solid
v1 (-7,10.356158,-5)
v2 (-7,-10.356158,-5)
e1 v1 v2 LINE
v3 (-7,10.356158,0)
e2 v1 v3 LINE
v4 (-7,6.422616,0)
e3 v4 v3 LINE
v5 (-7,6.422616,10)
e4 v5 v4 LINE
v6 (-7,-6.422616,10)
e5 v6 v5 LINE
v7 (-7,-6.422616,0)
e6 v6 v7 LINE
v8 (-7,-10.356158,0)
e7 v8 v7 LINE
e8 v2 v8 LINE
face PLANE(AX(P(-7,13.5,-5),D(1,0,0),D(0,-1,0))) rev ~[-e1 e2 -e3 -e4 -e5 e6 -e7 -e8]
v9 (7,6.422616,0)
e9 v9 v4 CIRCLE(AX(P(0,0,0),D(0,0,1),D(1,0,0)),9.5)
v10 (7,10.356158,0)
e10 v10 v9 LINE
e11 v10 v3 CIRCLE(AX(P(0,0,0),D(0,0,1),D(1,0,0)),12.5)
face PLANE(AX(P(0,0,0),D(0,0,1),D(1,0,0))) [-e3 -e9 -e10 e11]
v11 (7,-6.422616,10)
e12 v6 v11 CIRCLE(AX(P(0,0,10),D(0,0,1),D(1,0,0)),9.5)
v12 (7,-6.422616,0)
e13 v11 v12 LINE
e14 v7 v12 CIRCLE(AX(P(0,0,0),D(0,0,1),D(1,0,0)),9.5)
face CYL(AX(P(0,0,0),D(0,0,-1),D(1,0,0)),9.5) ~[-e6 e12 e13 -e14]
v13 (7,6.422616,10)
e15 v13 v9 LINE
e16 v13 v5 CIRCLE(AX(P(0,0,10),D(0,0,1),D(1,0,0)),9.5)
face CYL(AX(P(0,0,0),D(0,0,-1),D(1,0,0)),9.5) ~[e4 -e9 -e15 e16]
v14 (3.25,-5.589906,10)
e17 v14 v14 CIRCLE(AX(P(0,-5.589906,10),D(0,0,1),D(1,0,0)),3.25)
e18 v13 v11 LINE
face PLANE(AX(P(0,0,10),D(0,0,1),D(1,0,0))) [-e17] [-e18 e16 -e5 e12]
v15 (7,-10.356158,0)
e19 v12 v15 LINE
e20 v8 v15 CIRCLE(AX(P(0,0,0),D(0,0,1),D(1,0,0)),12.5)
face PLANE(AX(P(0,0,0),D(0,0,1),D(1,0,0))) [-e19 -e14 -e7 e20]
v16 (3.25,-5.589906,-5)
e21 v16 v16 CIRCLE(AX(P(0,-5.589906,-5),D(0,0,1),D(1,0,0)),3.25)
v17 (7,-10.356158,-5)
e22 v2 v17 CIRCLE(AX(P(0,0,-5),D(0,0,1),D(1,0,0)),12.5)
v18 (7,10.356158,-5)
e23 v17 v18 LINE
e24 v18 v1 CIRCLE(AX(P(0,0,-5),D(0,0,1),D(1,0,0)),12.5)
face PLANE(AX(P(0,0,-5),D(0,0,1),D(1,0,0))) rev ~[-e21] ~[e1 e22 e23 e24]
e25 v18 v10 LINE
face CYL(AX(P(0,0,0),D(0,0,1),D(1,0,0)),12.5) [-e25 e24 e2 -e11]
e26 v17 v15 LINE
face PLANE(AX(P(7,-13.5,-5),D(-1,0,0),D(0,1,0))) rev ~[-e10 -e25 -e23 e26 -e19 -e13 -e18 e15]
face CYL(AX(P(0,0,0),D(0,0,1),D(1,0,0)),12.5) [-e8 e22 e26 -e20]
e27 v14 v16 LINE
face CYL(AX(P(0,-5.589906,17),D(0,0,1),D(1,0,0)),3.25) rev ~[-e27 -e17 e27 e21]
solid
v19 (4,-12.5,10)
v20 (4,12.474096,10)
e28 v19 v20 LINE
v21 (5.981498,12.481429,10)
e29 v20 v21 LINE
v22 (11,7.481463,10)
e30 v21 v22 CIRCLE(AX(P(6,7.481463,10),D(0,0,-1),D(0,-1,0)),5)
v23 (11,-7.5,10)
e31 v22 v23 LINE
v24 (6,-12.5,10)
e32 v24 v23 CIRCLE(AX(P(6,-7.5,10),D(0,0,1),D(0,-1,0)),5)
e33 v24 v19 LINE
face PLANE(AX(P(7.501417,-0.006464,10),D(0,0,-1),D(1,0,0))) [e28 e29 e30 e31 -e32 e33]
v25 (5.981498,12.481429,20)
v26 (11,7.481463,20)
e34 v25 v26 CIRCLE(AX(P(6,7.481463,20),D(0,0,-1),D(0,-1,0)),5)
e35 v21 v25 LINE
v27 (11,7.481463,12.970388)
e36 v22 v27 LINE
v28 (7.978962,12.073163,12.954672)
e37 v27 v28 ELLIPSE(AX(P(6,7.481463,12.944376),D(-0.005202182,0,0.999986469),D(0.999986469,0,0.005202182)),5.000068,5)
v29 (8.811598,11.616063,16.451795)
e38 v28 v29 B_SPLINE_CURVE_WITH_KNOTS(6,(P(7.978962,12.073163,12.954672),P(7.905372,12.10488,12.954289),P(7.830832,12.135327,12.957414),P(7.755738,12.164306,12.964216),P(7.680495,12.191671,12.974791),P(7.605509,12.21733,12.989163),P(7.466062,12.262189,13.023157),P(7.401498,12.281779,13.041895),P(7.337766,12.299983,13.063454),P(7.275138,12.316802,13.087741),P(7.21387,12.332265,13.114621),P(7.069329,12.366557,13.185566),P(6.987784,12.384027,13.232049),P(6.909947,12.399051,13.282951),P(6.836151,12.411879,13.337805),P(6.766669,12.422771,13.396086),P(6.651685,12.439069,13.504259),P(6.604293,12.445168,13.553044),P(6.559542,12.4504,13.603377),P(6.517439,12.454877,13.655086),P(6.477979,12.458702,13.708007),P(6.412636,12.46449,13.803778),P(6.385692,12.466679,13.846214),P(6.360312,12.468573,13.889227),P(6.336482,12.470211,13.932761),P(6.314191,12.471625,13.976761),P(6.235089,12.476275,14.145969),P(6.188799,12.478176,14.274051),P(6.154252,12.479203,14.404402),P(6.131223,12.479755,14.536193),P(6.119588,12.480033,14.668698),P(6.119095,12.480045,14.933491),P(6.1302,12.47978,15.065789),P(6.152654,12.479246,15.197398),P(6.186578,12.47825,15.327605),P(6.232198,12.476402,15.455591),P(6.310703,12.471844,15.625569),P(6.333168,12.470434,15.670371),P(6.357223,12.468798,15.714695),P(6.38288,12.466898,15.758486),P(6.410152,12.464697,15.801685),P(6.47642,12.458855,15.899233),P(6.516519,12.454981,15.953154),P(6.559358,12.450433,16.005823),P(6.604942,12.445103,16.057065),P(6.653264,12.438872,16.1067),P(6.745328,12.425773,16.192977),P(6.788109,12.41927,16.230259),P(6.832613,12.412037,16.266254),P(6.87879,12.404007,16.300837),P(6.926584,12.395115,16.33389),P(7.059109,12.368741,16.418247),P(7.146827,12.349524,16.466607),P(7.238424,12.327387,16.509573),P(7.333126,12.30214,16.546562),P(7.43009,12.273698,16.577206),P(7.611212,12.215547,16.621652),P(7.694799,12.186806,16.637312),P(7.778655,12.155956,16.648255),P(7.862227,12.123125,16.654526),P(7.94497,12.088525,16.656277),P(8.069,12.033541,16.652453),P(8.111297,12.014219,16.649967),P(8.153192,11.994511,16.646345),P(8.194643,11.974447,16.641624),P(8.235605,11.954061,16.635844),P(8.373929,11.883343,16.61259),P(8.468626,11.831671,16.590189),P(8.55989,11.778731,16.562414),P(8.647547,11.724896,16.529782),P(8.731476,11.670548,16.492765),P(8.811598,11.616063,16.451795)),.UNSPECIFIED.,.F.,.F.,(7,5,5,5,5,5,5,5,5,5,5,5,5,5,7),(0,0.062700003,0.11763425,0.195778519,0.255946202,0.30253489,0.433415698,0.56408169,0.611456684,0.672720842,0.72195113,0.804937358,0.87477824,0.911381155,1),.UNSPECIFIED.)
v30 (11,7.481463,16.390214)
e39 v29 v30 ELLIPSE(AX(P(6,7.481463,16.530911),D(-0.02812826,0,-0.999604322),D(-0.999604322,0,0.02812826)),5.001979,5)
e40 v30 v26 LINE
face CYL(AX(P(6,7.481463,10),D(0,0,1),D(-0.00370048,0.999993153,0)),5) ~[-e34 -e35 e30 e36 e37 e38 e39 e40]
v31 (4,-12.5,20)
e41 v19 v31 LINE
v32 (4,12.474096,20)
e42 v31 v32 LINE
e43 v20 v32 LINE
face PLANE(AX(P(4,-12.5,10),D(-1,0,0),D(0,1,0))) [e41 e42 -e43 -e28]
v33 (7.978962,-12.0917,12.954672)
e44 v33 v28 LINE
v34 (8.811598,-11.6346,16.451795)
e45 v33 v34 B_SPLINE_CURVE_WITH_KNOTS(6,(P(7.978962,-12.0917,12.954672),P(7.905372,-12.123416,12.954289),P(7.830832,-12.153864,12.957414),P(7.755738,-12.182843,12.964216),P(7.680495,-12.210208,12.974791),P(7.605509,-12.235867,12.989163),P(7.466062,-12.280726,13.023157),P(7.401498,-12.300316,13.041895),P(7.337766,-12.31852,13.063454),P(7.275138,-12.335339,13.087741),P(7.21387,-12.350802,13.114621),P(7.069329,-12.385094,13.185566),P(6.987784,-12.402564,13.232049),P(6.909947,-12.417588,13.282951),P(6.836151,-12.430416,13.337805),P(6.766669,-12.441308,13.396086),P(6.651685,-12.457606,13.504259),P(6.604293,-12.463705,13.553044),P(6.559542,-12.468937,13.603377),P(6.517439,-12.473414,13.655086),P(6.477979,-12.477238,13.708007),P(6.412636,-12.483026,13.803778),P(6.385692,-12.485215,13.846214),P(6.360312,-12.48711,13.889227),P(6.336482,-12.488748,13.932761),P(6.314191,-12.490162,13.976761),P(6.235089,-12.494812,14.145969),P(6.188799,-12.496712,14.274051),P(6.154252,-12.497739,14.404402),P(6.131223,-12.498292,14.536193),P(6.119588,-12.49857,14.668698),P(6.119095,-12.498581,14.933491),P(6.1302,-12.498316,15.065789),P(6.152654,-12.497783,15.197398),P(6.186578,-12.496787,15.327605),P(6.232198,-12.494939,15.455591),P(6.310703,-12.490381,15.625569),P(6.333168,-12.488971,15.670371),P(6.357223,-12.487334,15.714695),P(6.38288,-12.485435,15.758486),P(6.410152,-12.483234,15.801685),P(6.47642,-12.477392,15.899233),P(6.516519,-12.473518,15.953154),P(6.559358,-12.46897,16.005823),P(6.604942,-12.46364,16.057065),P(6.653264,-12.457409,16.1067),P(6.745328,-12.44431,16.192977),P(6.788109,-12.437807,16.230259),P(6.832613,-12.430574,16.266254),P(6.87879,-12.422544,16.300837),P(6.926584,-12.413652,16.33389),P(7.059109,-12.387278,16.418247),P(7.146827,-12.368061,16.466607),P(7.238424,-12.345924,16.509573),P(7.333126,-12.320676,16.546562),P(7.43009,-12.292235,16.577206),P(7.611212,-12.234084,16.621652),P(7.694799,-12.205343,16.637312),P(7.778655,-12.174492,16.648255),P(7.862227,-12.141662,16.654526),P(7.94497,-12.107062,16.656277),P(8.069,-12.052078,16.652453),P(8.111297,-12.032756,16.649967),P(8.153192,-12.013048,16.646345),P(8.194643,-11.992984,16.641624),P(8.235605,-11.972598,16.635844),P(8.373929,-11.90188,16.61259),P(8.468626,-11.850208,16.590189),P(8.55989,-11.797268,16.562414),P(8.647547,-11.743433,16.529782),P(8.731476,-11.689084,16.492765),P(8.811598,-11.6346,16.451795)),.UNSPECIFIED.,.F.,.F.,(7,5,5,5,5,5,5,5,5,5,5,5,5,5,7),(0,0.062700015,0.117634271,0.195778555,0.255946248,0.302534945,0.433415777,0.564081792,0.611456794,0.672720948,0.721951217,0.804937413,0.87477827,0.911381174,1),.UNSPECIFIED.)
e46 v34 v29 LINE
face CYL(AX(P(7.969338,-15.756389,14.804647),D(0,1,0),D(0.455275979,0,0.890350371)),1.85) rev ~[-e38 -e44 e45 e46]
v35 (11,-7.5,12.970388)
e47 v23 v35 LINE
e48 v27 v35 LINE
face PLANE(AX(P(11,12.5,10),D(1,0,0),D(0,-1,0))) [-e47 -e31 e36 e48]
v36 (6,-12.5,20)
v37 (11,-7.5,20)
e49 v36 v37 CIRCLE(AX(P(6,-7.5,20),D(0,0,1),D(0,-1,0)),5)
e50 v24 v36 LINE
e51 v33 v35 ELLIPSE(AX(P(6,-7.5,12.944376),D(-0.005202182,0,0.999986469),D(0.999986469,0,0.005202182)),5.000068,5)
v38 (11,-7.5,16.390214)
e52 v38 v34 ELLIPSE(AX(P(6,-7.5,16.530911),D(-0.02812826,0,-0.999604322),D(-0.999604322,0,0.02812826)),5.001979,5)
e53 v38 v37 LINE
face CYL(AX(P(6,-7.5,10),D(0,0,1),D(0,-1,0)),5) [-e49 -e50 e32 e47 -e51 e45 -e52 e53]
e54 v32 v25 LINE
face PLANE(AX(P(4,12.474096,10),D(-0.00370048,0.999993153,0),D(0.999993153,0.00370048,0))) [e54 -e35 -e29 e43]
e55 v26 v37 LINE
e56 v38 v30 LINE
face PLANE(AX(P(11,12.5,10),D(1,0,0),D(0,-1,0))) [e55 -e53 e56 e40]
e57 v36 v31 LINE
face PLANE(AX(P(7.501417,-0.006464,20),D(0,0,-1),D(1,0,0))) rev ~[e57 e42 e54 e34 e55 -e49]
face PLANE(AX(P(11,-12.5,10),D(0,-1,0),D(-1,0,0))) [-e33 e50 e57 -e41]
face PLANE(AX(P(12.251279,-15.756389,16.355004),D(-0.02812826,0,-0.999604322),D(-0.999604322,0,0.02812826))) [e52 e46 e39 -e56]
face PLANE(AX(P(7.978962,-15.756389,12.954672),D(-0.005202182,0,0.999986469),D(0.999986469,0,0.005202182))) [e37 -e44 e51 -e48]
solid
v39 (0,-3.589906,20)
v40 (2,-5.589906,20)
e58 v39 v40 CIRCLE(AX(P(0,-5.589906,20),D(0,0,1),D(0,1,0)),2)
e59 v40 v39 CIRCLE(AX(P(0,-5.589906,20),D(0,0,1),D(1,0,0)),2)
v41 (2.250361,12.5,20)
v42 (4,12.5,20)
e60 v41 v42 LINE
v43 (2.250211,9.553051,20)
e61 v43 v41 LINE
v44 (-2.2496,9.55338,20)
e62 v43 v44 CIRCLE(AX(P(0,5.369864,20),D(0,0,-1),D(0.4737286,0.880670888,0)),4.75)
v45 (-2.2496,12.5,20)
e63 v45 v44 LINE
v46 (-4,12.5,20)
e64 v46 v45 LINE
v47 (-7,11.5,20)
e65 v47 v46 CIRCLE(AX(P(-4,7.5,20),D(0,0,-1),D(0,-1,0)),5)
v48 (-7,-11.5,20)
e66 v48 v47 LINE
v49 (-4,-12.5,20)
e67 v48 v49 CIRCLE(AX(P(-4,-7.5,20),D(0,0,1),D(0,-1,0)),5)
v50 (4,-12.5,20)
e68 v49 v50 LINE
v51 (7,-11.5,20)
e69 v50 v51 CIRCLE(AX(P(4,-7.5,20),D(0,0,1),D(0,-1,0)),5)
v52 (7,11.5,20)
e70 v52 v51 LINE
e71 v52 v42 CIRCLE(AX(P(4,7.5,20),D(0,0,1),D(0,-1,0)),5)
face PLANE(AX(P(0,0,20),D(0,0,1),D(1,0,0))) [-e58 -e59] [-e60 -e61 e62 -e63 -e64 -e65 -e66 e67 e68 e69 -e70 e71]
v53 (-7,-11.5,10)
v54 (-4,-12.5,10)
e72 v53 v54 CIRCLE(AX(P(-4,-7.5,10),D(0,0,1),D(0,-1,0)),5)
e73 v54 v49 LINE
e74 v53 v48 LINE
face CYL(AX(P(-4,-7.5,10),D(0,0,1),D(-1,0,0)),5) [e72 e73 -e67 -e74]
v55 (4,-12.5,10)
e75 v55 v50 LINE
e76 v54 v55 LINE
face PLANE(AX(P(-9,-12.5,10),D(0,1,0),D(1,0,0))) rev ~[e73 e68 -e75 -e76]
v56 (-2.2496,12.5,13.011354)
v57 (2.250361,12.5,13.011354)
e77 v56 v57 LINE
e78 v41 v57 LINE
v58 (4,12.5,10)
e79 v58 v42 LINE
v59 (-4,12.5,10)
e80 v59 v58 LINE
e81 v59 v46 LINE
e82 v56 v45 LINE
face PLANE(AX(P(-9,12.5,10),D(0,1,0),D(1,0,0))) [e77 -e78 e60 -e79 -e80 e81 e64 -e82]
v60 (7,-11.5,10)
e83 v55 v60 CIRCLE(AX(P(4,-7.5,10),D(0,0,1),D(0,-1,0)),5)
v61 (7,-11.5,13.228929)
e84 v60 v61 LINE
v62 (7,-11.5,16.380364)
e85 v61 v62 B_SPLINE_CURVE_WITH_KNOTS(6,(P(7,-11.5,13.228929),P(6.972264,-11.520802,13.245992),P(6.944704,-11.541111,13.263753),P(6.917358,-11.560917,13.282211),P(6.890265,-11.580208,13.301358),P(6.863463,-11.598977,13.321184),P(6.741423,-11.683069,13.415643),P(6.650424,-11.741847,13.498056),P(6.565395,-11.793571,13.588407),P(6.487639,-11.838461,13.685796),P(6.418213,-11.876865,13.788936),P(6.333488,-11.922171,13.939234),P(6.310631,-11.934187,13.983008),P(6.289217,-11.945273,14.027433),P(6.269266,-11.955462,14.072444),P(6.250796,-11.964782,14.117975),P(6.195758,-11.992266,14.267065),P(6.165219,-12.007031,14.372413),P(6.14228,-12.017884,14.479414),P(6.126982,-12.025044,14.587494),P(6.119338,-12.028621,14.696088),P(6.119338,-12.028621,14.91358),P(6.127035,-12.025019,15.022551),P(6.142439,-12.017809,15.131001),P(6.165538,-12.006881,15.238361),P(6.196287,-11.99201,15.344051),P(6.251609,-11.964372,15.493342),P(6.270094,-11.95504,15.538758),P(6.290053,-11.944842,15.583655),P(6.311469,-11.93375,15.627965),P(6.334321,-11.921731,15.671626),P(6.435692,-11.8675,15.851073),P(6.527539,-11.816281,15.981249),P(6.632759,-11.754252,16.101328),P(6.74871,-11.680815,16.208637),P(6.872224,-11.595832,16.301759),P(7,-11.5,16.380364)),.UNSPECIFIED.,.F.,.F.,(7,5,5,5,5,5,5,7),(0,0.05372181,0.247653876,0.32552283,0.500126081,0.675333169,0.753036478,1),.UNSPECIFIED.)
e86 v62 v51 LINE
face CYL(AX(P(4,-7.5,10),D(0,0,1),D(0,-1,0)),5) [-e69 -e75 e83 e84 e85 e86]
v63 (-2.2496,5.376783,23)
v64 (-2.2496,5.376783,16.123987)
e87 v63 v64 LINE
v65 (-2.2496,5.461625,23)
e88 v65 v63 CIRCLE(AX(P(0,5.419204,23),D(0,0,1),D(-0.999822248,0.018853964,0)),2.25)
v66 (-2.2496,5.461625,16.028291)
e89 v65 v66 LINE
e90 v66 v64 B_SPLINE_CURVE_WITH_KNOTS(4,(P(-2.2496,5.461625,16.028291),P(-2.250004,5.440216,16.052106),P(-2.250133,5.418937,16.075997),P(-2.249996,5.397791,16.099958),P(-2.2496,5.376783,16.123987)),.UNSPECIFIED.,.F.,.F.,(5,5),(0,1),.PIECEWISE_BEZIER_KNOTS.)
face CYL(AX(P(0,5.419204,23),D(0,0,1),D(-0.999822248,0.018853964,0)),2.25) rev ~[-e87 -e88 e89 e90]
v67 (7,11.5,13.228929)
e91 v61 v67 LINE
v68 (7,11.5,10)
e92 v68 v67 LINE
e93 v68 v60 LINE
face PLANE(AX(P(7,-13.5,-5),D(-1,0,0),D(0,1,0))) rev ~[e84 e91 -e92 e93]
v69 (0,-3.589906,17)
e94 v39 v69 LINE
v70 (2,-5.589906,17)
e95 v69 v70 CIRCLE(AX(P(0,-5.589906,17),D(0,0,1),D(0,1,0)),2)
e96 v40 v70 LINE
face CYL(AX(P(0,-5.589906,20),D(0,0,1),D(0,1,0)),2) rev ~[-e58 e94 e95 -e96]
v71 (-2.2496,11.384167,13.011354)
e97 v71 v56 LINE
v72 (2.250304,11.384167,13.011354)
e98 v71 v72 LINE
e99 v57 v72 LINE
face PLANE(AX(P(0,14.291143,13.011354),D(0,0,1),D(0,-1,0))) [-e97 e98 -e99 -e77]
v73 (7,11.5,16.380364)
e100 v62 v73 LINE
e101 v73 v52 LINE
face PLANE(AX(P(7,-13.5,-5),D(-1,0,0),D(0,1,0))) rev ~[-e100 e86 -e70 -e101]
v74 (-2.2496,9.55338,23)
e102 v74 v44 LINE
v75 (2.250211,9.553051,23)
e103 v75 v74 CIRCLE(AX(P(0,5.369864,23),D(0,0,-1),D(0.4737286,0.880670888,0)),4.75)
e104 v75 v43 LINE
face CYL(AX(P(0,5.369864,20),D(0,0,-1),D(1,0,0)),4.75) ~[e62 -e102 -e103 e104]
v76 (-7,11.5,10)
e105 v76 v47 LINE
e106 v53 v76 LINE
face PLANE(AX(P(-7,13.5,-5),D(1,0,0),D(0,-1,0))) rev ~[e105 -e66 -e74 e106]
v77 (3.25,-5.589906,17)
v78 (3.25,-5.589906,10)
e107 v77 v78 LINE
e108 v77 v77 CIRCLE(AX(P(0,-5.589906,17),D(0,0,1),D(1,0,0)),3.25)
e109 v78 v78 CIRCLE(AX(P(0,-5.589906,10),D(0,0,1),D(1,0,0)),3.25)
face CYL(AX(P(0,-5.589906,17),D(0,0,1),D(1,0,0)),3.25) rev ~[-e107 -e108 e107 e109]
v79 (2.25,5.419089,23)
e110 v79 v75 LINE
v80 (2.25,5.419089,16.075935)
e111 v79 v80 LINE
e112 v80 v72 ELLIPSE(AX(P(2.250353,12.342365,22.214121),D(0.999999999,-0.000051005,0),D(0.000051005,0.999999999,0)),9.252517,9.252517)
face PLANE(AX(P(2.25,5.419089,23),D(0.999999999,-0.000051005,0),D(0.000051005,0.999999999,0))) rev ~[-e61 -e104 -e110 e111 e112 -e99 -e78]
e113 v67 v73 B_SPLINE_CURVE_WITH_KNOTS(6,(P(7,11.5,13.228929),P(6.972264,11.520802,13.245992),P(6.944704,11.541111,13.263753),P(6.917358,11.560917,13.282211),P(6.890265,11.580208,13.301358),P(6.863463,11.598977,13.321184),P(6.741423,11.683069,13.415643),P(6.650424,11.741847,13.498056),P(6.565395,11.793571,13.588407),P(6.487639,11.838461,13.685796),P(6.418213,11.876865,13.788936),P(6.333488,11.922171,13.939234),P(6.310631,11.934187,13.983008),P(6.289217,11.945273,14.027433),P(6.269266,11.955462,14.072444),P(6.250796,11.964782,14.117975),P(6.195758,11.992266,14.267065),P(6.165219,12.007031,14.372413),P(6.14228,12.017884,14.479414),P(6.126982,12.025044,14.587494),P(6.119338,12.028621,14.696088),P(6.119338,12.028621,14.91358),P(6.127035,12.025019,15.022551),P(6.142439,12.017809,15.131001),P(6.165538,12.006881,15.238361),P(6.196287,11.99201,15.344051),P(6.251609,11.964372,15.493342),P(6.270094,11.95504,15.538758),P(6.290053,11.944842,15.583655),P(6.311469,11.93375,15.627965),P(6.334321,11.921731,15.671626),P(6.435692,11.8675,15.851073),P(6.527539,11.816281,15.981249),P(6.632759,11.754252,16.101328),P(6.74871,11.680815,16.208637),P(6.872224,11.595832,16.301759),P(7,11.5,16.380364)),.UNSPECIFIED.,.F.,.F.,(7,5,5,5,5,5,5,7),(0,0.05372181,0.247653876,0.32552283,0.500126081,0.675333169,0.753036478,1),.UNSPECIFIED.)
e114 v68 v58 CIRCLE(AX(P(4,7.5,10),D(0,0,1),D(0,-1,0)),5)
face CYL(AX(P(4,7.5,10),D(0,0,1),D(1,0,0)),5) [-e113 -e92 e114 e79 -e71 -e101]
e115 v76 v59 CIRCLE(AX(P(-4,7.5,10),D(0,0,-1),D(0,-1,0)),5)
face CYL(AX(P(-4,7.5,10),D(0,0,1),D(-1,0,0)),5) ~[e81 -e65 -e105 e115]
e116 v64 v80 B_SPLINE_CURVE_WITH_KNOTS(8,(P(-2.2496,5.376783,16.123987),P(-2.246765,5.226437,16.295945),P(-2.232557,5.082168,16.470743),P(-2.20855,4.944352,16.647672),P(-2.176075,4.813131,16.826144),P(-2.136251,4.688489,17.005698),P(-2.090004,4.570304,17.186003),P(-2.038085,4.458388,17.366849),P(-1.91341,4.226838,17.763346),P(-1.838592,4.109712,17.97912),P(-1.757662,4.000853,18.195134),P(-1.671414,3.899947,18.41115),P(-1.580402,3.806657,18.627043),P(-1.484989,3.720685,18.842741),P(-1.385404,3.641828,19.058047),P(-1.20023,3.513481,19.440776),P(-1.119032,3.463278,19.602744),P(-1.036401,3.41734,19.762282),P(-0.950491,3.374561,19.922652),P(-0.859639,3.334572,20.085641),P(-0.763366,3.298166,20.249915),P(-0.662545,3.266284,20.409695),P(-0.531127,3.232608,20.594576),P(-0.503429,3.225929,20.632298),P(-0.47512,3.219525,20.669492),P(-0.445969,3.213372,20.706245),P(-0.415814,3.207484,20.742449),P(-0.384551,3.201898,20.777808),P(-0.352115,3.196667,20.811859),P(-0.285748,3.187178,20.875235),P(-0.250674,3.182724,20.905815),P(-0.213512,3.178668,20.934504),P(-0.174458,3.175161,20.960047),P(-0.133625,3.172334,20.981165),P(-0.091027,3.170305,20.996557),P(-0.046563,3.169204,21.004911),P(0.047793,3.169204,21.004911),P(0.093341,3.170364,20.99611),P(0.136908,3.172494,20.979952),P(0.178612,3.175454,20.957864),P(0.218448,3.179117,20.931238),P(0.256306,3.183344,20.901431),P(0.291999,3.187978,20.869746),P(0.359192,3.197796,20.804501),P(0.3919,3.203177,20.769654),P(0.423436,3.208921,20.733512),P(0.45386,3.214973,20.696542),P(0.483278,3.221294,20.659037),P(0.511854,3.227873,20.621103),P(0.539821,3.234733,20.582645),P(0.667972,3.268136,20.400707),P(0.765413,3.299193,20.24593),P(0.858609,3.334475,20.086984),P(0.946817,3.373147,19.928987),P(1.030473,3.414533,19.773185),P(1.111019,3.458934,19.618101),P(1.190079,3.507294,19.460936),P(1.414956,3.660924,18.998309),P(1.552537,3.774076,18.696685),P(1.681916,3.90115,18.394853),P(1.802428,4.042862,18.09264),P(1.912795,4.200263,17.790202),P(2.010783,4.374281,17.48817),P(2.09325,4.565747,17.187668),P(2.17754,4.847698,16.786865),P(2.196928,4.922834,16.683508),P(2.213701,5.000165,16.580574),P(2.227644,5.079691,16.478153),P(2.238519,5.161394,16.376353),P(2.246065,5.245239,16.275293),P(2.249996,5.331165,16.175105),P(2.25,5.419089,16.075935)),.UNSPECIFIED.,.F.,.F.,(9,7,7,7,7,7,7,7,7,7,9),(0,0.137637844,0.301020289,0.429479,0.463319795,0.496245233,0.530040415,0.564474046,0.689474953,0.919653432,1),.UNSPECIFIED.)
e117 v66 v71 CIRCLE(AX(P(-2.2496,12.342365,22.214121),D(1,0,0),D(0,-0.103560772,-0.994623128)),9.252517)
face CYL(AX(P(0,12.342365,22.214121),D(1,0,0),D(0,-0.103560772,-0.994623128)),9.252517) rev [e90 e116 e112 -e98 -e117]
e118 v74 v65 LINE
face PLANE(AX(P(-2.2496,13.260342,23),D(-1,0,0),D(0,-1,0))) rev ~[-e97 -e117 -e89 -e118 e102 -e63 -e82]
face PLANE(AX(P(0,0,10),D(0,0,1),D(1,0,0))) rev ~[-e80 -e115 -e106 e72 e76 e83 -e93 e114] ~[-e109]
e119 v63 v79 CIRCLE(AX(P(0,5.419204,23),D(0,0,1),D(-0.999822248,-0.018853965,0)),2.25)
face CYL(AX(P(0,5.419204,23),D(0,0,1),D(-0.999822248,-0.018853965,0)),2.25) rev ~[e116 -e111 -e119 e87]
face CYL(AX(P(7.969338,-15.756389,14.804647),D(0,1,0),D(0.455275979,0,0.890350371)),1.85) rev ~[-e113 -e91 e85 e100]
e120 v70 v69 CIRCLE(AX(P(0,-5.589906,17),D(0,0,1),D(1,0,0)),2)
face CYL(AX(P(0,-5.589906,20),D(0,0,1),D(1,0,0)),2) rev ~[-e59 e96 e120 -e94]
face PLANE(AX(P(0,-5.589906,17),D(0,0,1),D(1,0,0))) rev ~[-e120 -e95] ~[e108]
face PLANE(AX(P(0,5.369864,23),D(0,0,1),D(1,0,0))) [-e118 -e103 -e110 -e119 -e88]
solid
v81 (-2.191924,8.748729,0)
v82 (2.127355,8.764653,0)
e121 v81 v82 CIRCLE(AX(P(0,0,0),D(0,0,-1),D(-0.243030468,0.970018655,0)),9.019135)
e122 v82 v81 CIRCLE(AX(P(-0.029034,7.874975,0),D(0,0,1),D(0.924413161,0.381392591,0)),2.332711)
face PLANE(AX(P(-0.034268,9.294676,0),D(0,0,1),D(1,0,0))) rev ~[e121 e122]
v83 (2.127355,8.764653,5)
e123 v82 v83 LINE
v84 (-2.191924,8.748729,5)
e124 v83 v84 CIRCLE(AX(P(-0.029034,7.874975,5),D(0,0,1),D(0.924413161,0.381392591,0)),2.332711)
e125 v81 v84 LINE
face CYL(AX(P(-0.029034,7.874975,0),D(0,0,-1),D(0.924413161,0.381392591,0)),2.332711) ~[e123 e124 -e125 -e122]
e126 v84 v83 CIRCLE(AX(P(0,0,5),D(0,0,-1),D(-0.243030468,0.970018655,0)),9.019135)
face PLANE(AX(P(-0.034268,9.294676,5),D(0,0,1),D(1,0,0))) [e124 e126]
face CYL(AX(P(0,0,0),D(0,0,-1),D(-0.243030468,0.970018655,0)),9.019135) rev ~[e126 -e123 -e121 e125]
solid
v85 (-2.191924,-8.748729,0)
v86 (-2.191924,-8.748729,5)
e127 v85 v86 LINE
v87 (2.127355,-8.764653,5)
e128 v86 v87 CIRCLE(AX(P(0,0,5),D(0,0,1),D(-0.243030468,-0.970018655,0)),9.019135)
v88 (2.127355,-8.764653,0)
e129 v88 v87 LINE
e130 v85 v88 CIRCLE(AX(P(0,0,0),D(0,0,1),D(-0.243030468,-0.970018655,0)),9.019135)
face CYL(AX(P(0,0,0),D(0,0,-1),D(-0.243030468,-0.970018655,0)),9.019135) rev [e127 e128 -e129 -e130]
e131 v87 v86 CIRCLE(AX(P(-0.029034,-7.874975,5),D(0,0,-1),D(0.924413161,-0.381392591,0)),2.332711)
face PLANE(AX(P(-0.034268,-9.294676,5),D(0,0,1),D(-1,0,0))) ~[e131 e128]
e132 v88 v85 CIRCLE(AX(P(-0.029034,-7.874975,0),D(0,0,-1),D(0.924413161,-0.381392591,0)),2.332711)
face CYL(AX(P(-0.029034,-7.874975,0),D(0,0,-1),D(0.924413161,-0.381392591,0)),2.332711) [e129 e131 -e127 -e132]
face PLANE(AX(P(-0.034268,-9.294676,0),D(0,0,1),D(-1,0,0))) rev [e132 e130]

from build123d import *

# Parameters (mm, degrees)
F0_R      = 12.5
F1_DEPTH  = 5
F2_R      = 9.5
F3_DEPTH  = 10
F5_DEPTH  = 5
F7_W      = 30
F7_H      = 30
F7_W_2    = 15
F7_H_2    = 27
F8_DEPTH  = 10
F10_W     = 18
F10_H     = 25
F11_DEPTH = 10
F12_R     = 5
F13_R     = 4.75
F14_DEPTH = 3
F16_DEPTH = 25
F18_R     = 3.25
F19_DEPTH = 25
F22_DEPTH = 10
F23_W     = 15.5848370632
F23_H     = 13.4339891374
F24_DEPTH = 3
F29_W     = 21.2960224599
F29_H     = 32.8733809292
F30_DEPTH = 35
F33_DEPTH = 10
F34_R     = 5


with BuildPart() as f1:
    # F0 (on Top) → F1 (new body)
    with BuildSketch(Plane.XY):
        Circle(F0_R)
    extrude(amount=-F1_DEPTH)

    # F2 (on Top) → F3 (join)
    with BuildSketch(Plane.XY):
        Circle(F2_R)
    extrude(amount=F3_DEPTH)


with BuildPart() as f5:
    # F4 (on Top) → F5 (new body)
    with BuildSketch(Plane.XY):
        with BuildLine():
            ThreePointArc((-2.19192449, 8.7487287819), (-0.0332522533, 9.0190732649), (2.1273547272, 8.7646534521))
            ThreePointArc((2.1273547272, 8.7646534521), (-0.0376344683, 10.2076699565), (-2.19192449, 8.7487287819))
        make_face()
    extrude(amount=F5_DEPTH)


with BuildPart() as f6_1:
    # F6: instance of F5
    add(f5.part.mirror(Plane.XZ))


with BuildPart() as f8:
    # F7 (on Top) → F8 (new body, symmetric)
    with BuildSketch(Plane.XY):
        Rectangle(F7_W, F7_H)
        Rectangle(F7_W_2, F7_H_2, mode=Mode.SUBTRACT)
    extrude(amount=F8_DEPTH, both=True)


with BuildPart() as f1_1:
    add(f1.part)

    # F9: cut F8
    add(f8.part, mode=Mode.SUBTRACT)


with BuildPart() as f11:
    # F10 (on face) → F11 (new body)
    with BuildSketch(Plane.XY.offset(10)):
        Rectangle(F10_W, F10_H)
    extrude(amount=F11_DEPTH)

    # F12
    f12_edges = [f11.edges().sort_by_distance(p)[0] for p in [
        (-9, -12.5, 15),
        (9, -12.5, 15),
        (-9, 12.5, 15),
        (9, 12.5, 15),
    ]]
    fillet(f12_edges, radius=F12_R)

    # F13 (on face) → F14 (join)
    with BuildSketch(Plane.XY.offset(20)):
        with Locations((0, 5.3698644042)):
            Circle(F13_R)
    extrude(amount=F14_DEPTH)


with BuildPart() as f16:
    # F15 (on face) → F16 (new body)
    with BuildSketch(Plane.XY.offset(20)):
        with BuildLine():
            ThreePointArc((0, -3.5899061263), (-1.4142135624, -7.0041196886), (2, -5.5899061263))
            ThreePointArc((2, -5.5899061263), (1.4142135624, -4.1756925639), (0, -3.5899061263))
        make_face()
    extrude(amount=-F16_DEPTH)


with BuildPart() as f19:
    # F18 (on offset) → F19 (new body)
    with BuildSketch(Plane.XY.offset(17)):
        with Locations((0, -5.5899061263)):
            Circle(F18_R)
    extrude(amount=-F19_DEPTH)


with BuildPart() as f11_1:
    add(f11.part)

    # F20: cut F19, F16
    add(f19.part, mode=Mode.SUBTRACT)
    add(f16.part, mode=Mode.SUBTRACT)


with BuildPart() as f1_2:
    add(f1_1.part)

    # F20: cut F19, F16
    add(f19.part, mode=Mode.SUBTRACT)
    add(f16.part, mode=Mode.SUBTRACT)


with BuildPart() as f22:
    # F21 (on face) → F22 (new body)
    with BuildSketch(Plane.XY.offset(23)):
        with BuildLine():
            Line((-2.2496000585, 5.3767825914), (-2.2496000585, 5.4616254317))
            ThreePointArc((-2.2496000585, 5.4616254317), (-2.25, 5.4192040116), (-2.2496000585, 5.3767825914))
        make_face()
        with BuildLine():
            Line((-2.2496000585, 13.2603423141), (-2.2496000585, 5.4616254317))
            Line((-2.2496000585, 5.4616254317), (-2.2496000585, 5.3767825914))
            ThreePointArc((-2.2496000585, 5.3767825914), (0.0211542744, 3.1693034589), (2.2499999971, 5.4190892499))
            Line((2.2499999971, 5.4190892499), (2.2503999415, 13.2603423141))
            Line((2.2503999415, 13.2603423141), (-2.2496000585, 13.2603423141))
        make_face()
    extrude(amount=-F22_DEPTH)


with BuildPart() as f24:
    # F23 (on Right) → F24 (new body, symmetric)
    with BuildSketch(Plane.YZ):
        with Locations((8.6143131484, 18.0006176233)):
            Rectangle(F23_W, F23_H)
        with BuildLine():
            ThreePointArc((11.3841668327, 13.0113540217), (5.2042632853, 16.3271376428), (3.1254675568, 23.0252147695))
            Line((3.1254675568, 23.0252147695), (14.2911430448, 22.9898802936))
            Line((14.2911430448, 22.9898802936), (14.2911430448, 13.0113540217))
            Line((14.2911430448, 13.0113540217), (11.3841668327, 13.0113540217))
        make_face(mode=Mode.SUBTRACT)
    extrude(amount=F24_DEPTH, both=True)


with BuildPart() as f22_1:
    add(f22.part)

    # F25: cut F24
    add(f24.part, mode=Mode.SUBTRACT)


with BuildPart() as f11_2:
    add(f11_1.part)

    # F26: cut F22
    add(f22_1.part, mode=Mode.SUBTRACT)


with BuildPart() as f30:
    # F29 (on face) → F30 (new body)
    with BuildSketch(Plane(origin=(0, 0, -5), x_dir=(1, 0, 0), z_dir=(0, 0, -1))):
        Rectangle(F29_W, F29_H)
        with BuildLine():
            Line((-7, 10.3561575886), (-7, 13.5))
            Line((-7, 13.5), (7, 13.5))
            Line((7, 13.5), (7, 10.3561575886))
            ThreePointArc((7, 10.3561575886), (7.2521867086, 10.1811486554), (7.5, 10))
            Line((7.5, 10), (7.5, -10))
            ThreePointArc((7.5, -10), (7.2521867086, -10.1811486554), (7, -10.3561575886))
            Line((7, -10.3561575886), (7, -13.5))
            Line((7, -13.5), (-7, -13.5))
            Line((-7, -13.5), (-7, -10.3561575886))
            ThreePointArc((-7, -10.3561575886), (-7.2521867086, -10.1811486554), (-7.5, -10))
            Line((-7.5, -10), (-7.5, 10))
            ThreePointArc((-7.5, 10), (-7.2521867086, 10.1811486554), (-7, 10.3561575886))
        make_face(mode=Mode.SUBTRACT)
        with BuildLine():
            Line((-7, -10.3561575886), (-7, 10.3561575886))
            ThreePointArc((-7, 10.3561575886), (-7.2521867086, 10.1811486554), (-7.5, 10))
            Line((-7.5, 10), (-7.5, -10))
            ThreePointArc((-7.5, -10), (-7.2521867086, -10.1811486554), (-7, -10.3561575886))
        make_face()
        with BuildLine():
            ThreePointArc((7.5, 10), (7.2521867086, 10.1811486554), (7, 10.3561575886))
            Line((7, 10.3561575886), (7, -10.3561575886))
            ThreePointArc((7, -10.3561575886), (7.2521867086, -10.1811486554), (7.5, -10))
            Line((7.5, -10), (7.5, 10))
        make_face()
    extrude(amount=-F30_DEPTH)


with BuildPart() as f11_3:
    add(f11_2.part)

    # F31: cut F30
    add(f30.part, mode=Mode.SUBTRACT)


with BuildPart() as f6_1_1:
    add(f6_1.part)

    # F31: cut F30
    add(f30.part, mode=Mode.SUBTRACT)


with BuildPart() as f5_1:
    add(f5.part)

    # F31: cut F30
    add(f30.part, mode=Mode.SUBTRACT)


with BuildPart() as f1_3:
    add(f1_2.part)

    # F31: cut F30
    add(f30.part, mode=Mode.SUBTRACT)


with BuildPart() as f33:
    # F32 (on face) → F33 (new body)
    with BuildSketch(Plane(origin=(0, 0, 10), x_dir=(1, 0, 0), z_dir=(0, 0, -1))):
        Polygon((11, 12.5), (4, 12.5), (4, -12.4740964633), (11, -12.5), align=None)
    extrude(amount=-F33_DEPTH)

    # F34
    f34_edges = [f33.edges().sort_by_distance(p)[0] for p in [
        (11, 12.5, 15),
        (11, -12.5, 15),
    ]]
    fillet(f34_edges, radius=F34_R)


with BuildPart() as f35:
    # F35: sweep along a path in F27
    with BuildLine(Plane.XY) as f35_path:
        Line((4.9848833789, -15.7563891262), (4.9848833789, 9.1055910668))
        Line((4.9848833789, 9.1055910668), (4.9848833789, 13.8200307265))
    # F28 (on Front) → F35 (sweep)
    with BuildSketch(Plane.XZ):
        with BuildLine():
            Line((12.2512793168, 16.3550041616), (8.8115982367, 16.4517947039))
            ThreePointArc((8.8115982367, 16.4517947039), (6.1696448053, 15.2331387236), (7.9789617133, 12.9546715506))
            Line((7.9789617133, 12.9546715506), (12.2512793168, 12.9768972261))
            Line((12.2512793168, 12.9768972261), (12.2512793168, 16.3550041616))
        make_face()
    sweep(path=f35_path.line)


with BuildPart() as f11_4:
    add(f11_3.part)

    # F36: cut F35
    add(f35.part, mode=Mode.SUBTRACT)


with BuildPart() as f33_1:
    add(f33.part)

    # F36: cut F35
    add(f35.part, mode=Mode.SUBTRACT)


solid = Compound([f6_1_1.part, f5_1.part, f1_3.part, f11_4.part, f33_1.part])
